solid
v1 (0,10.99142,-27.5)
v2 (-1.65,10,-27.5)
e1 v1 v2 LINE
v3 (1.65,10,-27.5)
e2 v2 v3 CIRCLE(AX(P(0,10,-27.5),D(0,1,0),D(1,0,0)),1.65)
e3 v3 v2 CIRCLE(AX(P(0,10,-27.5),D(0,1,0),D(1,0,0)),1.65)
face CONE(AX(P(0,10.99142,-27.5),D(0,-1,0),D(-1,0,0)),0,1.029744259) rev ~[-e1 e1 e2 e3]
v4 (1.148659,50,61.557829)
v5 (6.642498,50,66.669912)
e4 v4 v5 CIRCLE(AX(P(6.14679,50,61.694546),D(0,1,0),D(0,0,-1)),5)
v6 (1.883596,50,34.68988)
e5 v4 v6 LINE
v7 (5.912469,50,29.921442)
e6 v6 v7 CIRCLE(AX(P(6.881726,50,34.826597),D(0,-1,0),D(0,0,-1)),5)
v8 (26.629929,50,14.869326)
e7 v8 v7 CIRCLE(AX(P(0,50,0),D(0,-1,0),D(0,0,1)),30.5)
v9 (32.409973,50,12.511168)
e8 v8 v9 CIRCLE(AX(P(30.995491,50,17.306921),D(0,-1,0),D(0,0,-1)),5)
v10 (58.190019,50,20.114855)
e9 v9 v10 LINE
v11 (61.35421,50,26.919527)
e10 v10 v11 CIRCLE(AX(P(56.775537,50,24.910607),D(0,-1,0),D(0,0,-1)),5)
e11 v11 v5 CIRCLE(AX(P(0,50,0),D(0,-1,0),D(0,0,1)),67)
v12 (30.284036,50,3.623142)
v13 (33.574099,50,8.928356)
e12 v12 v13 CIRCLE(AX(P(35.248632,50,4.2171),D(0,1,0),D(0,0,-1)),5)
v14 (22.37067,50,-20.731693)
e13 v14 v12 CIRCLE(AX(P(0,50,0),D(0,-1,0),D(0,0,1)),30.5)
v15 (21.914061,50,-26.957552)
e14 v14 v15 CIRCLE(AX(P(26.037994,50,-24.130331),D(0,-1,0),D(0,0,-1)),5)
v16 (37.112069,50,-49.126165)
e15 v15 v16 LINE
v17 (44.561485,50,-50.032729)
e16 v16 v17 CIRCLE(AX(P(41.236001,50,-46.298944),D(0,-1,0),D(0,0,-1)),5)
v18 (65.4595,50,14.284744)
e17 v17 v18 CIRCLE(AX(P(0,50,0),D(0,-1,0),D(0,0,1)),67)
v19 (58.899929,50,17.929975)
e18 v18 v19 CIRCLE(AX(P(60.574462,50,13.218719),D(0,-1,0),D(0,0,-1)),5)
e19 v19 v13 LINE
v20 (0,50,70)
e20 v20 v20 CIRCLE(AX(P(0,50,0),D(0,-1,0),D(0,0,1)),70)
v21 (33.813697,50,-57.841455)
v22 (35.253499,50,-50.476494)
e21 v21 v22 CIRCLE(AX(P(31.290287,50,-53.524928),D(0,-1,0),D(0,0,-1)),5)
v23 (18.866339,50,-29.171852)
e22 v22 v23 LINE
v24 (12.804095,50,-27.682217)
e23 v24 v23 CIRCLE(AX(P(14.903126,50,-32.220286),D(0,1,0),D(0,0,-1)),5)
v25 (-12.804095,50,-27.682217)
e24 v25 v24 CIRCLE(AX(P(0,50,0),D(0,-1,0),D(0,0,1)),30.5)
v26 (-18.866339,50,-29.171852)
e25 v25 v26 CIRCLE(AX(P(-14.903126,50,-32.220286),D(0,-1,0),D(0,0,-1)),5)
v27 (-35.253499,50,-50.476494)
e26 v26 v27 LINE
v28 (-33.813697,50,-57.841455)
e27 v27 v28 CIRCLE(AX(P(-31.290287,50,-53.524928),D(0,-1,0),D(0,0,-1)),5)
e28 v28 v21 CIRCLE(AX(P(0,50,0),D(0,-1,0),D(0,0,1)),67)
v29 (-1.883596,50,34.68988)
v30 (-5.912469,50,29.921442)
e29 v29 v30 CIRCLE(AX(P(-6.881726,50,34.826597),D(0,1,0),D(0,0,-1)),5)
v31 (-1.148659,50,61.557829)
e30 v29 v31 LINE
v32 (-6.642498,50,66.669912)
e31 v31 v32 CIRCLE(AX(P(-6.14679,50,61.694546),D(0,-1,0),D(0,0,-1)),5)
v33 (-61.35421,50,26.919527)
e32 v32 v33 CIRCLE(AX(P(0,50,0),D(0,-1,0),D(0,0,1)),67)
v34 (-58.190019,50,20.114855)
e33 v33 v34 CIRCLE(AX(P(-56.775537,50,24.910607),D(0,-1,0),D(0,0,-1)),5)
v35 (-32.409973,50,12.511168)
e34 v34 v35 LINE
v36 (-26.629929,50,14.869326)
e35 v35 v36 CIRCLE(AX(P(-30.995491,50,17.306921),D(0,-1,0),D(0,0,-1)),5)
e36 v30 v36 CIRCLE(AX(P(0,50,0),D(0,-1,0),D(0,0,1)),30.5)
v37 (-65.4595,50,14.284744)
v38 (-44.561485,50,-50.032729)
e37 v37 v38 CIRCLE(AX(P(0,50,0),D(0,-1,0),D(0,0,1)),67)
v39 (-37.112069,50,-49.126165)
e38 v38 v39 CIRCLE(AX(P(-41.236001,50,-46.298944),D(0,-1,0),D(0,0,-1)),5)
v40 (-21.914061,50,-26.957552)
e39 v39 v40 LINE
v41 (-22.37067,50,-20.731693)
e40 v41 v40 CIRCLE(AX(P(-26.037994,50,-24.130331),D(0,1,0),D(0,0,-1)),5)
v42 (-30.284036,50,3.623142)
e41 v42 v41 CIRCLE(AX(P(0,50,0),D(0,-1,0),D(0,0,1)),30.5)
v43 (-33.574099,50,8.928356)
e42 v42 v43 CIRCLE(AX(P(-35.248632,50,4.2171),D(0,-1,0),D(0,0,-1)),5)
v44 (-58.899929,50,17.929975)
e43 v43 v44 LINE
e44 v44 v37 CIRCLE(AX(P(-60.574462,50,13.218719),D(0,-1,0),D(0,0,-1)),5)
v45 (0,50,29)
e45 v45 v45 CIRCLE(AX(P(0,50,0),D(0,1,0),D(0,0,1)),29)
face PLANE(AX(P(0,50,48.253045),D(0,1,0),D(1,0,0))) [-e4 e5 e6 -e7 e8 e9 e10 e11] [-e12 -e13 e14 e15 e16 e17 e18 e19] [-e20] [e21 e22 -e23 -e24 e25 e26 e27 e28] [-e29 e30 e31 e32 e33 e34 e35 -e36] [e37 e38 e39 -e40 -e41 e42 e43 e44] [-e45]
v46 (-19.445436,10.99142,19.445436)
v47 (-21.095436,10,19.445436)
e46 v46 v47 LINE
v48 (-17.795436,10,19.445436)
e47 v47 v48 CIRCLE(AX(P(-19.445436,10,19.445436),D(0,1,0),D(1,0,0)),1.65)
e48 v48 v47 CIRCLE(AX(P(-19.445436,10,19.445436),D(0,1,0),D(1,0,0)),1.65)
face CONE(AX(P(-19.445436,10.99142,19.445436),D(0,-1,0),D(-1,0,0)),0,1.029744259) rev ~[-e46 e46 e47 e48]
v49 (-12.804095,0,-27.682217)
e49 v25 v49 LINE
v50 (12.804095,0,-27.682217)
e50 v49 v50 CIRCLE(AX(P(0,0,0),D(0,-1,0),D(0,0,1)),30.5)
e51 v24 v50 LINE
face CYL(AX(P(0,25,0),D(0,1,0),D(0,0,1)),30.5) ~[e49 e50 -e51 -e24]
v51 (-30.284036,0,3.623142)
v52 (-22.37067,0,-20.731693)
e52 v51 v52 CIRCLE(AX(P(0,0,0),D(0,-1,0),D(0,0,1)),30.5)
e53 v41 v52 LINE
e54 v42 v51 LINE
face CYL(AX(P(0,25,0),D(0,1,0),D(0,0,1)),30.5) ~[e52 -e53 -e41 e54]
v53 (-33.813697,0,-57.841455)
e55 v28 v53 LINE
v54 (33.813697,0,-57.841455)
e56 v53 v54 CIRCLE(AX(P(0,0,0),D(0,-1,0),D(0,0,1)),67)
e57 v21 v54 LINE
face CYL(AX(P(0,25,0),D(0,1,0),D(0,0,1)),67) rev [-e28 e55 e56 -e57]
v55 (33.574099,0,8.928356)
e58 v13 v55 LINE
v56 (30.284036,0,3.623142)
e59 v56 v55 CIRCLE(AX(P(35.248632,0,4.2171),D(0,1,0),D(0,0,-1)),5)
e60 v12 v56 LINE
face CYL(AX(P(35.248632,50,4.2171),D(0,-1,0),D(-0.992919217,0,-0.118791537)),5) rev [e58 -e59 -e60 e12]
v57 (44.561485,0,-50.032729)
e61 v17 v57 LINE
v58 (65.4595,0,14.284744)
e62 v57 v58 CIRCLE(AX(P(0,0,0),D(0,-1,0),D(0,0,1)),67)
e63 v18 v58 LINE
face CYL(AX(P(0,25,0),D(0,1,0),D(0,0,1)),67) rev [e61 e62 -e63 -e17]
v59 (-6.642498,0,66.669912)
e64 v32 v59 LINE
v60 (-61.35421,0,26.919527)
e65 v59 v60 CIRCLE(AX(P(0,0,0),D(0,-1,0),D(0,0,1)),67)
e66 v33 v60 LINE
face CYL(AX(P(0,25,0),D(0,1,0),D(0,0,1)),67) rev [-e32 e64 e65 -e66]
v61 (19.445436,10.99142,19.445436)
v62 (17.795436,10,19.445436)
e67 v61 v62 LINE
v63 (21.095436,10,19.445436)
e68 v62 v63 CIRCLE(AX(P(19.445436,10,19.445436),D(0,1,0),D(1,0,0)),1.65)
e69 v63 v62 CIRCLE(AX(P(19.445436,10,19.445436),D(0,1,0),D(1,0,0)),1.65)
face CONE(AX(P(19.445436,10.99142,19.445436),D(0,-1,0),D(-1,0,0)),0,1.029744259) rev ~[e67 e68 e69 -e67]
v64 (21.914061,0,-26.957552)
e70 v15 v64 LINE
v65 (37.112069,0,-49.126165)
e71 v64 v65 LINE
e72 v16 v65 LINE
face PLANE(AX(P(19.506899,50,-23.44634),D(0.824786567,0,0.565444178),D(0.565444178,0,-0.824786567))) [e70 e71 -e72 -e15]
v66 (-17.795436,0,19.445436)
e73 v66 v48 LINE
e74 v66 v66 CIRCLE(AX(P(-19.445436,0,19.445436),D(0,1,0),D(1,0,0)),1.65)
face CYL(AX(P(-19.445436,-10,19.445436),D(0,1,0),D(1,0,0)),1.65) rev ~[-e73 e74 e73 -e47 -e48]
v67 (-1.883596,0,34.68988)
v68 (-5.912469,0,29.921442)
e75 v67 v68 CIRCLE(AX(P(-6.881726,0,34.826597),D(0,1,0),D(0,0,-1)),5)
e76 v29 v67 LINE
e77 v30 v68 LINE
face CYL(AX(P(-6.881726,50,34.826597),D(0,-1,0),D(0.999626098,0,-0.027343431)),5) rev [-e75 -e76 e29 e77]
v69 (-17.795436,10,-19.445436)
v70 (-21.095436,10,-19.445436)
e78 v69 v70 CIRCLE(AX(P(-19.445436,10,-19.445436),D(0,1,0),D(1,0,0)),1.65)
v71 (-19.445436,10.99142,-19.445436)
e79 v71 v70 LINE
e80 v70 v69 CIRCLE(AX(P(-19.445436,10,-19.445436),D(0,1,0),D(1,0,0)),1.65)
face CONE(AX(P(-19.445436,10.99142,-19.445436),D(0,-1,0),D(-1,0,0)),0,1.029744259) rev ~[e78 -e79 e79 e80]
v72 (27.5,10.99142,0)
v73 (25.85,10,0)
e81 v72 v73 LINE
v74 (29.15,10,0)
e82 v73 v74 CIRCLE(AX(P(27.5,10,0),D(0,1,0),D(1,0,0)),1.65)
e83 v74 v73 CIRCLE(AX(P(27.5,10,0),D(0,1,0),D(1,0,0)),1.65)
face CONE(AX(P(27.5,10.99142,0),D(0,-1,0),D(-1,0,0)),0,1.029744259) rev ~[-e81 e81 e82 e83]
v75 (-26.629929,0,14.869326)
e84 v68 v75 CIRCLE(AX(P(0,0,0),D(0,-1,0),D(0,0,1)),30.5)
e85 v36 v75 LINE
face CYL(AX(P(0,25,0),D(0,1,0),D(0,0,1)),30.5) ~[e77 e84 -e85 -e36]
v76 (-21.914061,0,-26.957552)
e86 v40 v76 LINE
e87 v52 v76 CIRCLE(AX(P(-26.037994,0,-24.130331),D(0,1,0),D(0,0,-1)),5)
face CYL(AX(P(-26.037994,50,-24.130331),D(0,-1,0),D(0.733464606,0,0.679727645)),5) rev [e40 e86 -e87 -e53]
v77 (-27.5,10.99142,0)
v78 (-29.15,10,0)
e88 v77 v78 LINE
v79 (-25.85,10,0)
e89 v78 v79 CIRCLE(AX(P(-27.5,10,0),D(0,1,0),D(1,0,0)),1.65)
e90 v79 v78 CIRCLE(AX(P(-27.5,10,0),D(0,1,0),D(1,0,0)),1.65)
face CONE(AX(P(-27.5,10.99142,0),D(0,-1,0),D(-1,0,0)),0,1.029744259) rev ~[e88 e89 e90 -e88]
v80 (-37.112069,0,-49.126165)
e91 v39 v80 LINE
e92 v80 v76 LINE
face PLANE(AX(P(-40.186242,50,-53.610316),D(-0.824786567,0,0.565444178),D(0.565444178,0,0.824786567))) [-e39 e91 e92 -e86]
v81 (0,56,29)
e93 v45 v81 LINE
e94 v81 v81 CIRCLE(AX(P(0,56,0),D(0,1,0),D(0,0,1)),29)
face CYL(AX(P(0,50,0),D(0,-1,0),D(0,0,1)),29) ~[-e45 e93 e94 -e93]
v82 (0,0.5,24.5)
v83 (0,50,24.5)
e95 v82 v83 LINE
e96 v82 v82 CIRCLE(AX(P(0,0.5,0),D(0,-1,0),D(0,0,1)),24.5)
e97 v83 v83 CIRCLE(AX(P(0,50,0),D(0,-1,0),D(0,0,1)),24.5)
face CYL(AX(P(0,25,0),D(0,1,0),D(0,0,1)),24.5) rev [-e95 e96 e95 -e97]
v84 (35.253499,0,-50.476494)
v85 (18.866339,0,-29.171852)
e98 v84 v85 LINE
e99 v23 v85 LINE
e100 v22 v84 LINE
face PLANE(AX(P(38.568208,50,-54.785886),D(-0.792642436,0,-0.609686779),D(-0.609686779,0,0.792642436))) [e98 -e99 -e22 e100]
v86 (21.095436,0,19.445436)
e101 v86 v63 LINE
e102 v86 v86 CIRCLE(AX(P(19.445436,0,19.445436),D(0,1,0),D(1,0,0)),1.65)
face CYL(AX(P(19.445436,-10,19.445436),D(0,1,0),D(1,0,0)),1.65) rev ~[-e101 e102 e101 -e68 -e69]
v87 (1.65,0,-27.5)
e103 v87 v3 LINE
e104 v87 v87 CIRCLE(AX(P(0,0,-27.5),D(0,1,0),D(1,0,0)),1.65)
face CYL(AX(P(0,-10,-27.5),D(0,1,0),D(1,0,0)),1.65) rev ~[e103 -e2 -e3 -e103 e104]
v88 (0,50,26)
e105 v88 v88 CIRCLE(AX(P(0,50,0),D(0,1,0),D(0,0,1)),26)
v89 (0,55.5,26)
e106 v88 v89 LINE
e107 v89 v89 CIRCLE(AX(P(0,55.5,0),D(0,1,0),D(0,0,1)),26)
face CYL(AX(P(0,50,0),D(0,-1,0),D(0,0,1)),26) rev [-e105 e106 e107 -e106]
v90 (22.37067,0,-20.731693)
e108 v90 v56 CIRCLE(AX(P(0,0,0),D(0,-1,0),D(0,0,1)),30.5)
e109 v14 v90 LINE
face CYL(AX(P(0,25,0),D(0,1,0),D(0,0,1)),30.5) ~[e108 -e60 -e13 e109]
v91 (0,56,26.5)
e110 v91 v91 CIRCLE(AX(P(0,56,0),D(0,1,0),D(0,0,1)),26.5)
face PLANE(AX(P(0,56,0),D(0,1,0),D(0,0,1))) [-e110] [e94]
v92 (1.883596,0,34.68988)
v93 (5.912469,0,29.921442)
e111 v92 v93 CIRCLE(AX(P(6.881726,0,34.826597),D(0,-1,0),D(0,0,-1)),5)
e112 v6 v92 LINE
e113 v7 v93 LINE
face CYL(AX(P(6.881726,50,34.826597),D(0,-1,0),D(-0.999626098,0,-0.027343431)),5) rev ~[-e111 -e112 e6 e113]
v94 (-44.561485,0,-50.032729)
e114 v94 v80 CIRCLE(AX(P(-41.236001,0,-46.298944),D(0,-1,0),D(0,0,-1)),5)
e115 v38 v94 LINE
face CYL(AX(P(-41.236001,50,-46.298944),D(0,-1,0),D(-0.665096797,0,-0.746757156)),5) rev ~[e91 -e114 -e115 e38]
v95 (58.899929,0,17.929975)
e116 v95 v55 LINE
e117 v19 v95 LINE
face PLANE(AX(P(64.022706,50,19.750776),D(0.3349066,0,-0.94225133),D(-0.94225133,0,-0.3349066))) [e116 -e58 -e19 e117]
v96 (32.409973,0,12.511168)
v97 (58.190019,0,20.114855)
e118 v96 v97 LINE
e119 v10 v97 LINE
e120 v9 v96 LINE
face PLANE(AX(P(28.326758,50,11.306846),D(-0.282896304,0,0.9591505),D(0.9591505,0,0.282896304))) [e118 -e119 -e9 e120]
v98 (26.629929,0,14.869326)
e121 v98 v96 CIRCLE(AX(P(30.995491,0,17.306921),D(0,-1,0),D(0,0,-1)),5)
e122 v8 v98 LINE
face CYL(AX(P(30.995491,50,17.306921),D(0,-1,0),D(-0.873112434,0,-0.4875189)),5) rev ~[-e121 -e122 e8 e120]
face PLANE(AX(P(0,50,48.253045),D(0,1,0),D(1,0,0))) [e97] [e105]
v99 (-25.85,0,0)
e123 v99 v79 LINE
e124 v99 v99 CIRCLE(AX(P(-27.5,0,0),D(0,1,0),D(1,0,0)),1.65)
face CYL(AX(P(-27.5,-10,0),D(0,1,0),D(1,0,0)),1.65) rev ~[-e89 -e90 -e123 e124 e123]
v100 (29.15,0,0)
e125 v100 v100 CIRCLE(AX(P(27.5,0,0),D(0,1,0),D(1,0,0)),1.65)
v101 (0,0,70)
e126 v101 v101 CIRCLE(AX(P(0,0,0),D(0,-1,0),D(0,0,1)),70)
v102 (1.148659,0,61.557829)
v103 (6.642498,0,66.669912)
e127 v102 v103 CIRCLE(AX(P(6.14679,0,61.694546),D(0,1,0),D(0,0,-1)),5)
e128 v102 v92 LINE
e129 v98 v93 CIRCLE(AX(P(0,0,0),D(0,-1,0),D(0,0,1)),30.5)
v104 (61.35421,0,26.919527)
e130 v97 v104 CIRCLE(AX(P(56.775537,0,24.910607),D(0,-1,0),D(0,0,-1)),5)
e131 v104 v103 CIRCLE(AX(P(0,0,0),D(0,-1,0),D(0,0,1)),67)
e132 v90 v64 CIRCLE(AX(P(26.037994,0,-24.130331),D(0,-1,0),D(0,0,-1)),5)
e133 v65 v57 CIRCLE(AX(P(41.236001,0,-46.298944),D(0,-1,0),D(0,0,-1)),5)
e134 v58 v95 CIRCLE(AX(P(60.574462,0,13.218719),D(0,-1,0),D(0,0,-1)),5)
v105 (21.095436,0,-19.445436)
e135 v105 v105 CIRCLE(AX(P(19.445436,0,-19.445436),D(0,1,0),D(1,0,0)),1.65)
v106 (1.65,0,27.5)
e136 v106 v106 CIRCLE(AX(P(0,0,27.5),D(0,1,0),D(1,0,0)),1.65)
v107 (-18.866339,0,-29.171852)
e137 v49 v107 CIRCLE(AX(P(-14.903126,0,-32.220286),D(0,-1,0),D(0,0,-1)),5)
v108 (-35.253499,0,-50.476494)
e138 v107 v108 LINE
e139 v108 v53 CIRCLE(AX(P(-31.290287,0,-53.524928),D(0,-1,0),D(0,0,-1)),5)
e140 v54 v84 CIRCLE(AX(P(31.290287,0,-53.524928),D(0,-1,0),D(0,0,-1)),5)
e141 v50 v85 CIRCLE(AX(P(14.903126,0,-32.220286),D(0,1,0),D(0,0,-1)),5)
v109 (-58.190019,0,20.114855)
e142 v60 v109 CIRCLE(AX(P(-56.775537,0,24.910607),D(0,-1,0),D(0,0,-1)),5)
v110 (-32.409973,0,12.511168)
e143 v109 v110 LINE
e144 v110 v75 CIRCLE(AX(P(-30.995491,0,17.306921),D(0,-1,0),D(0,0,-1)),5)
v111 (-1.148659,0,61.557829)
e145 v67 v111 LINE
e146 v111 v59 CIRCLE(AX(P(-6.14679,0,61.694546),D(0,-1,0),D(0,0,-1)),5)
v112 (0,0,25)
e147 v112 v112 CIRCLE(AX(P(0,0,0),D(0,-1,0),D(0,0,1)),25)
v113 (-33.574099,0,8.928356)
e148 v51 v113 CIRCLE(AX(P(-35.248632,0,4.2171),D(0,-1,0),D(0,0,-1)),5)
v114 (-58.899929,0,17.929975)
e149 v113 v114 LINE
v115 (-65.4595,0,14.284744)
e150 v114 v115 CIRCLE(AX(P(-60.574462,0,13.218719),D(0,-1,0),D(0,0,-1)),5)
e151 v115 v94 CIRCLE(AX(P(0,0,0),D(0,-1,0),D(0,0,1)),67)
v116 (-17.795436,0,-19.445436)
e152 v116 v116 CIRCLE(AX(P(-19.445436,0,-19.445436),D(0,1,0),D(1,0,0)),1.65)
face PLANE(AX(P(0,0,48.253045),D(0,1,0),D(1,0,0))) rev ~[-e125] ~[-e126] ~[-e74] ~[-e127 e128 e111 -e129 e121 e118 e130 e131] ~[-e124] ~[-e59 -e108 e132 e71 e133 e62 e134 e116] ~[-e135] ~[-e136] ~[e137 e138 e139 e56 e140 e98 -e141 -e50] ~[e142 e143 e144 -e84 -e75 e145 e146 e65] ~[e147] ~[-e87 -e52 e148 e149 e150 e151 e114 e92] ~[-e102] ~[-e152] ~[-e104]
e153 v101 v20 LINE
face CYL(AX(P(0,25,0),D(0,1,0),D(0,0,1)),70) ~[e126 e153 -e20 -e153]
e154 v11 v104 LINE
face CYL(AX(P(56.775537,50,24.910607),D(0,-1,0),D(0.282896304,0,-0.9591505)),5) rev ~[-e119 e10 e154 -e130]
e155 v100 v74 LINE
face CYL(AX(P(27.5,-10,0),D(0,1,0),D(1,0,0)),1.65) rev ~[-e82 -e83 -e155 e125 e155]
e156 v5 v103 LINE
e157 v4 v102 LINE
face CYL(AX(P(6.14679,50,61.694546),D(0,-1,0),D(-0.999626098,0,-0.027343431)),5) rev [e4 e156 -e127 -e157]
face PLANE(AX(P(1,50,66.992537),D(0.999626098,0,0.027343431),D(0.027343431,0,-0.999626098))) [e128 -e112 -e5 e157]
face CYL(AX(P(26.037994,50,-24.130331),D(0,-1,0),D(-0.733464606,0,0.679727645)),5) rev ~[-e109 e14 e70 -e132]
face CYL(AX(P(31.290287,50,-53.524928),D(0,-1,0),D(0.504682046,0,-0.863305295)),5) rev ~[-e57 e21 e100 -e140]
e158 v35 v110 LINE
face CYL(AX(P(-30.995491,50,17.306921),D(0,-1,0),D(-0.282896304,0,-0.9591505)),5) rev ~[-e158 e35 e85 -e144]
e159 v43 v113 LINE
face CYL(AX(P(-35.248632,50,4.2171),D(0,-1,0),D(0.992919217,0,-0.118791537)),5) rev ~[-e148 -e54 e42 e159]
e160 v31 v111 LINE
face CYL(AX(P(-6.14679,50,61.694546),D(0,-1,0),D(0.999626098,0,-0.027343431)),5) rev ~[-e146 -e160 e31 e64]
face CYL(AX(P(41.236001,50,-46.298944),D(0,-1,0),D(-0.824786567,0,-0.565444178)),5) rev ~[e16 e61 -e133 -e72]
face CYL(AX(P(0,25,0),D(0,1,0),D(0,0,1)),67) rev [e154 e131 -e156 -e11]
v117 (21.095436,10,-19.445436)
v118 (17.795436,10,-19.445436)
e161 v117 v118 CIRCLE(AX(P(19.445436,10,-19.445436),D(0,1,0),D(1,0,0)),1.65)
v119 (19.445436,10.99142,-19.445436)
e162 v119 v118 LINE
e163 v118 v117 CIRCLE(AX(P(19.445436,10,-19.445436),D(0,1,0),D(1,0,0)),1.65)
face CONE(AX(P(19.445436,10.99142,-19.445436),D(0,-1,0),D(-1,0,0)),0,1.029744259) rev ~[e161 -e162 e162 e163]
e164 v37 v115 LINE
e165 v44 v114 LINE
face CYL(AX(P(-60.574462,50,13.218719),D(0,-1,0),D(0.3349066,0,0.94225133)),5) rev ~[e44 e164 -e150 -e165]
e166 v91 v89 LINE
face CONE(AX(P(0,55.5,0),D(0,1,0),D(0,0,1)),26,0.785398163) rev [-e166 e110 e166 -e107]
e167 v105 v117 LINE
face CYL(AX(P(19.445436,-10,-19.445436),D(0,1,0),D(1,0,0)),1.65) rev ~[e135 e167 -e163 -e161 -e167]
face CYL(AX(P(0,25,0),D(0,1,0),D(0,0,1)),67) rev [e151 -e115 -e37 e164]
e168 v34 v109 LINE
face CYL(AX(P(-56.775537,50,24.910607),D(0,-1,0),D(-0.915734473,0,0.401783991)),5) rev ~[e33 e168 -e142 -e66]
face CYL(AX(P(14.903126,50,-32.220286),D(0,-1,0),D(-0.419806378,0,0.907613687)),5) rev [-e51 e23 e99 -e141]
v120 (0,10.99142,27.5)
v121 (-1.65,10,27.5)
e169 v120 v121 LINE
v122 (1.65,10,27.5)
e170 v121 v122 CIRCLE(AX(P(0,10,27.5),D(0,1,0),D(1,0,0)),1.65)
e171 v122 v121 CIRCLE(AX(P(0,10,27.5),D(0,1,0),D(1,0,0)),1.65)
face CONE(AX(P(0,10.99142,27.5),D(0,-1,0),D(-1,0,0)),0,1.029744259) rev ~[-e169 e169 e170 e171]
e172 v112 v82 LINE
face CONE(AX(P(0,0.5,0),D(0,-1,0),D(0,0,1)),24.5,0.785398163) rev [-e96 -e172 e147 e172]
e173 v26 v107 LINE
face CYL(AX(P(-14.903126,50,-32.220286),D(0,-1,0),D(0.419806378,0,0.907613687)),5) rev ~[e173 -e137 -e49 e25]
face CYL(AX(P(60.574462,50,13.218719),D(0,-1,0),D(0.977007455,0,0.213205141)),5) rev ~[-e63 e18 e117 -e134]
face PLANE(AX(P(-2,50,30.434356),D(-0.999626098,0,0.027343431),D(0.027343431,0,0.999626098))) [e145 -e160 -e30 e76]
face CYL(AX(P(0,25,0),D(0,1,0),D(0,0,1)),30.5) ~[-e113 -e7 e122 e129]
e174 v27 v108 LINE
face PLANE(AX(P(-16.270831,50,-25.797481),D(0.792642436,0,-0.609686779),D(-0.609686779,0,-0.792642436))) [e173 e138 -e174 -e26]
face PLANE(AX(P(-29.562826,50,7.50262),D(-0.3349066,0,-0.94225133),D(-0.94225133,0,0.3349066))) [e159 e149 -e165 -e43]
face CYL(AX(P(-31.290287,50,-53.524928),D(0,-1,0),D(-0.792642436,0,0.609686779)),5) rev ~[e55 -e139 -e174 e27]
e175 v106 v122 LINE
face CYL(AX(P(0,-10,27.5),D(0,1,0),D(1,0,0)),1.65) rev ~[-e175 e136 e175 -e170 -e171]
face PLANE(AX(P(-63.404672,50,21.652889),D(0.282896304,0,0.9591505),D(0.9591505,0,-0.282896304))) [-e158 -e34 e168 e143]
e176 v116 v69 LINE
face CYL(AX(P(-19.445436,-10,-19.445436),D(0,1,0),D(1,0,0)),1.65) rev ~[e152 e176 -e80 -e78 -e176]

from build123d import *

# Parameters (mm, degrees)
SKETCH_1_W             = 6
SKETCH_1_H             = 50
SKETCH_1_W_2           = 3
HOLE_WIZARD_M4_1_D     = 3.3
HOLE_WIZARD_M4_1_DEPTH = 10
HOLE_WIZARD_M4_1_TIP   = 0.991420021
EXTRUDE_1_DEPTH        = 50
SKETCH_7_R             = 29
SKETCH_7_R_2           = 26
EXTRUDE_3_DEPTH        = 6
CHAMFER_1_SIZE         = 0.5
FILLET_1_R             = 5


with BuildPart() as part:
    # 草图1 → 旋转1 (revolve)
    with BuildSketch(Plane.XY, mode=Mode.PRIVATE) as revolve_1_sk:
        with Locations((27.5, 25)):
            Rectangle(SKETCH_1_W, SKETCH_1_H)
        with Locations((68.5, 25)):
            Rectangle(SKETCH_1_W_2, SKETCH_1_H)
    revolve(revolve_1_sk.sketch.rotate(Axis((0, 82.659451531, 0), (0, -1, 0)), 90), axis=Axis((0, 82.659451531, 0), (0, -1, 0)))

    # M4 螺纹孔1
    with Locations(Plane(origin=(0, 0, 0), x_dir=(-1, 0, 0), z_dir=(0, -1, 0))):
        with Locations((0, 27.5), (19.445436483, -19.445436483), (27.5, 0), (19.445436483, 19.445436483), (0, -27.5), (-19.445436483, -19.445436483), (-27.5, 0), (-19.445436483, 19.445436483)):
            Hole(HOLE_WIZARD_M4_1_D / 2, depth=HOLE_WIZARD_M4_1_DEPTH)
            with Locations((0, 0, -(HOLE_WIZARD_M4_1_DEPTH + HOLE_WIZARD_M4_1_TIP / 2))):  # 118° drill point
                Cone(0, HOLE_WIZARD_M4_1_D / 2, HOLE_WIZARD_M4_1_TIP, mode=Mode.SUBTRACT)

    # 草图5 → 凸台-拉伸1 (add)
    with BuildSketch(Plane(origin=(0, 50, 0), x_dir=(1, 0, 0), z_dir=(0, 1, 0))):
        with BuildLine():
            Line((1, -66.992536898), (2, -30.434355587))
            ThreePointArc((2, -30.434355587), (0, -30.5), (-2, -30.434355587))
            Line((-2, -30.434355587), (-1, -66.992536898))
            ThreePointArc((-1, -66.992536898), (0, -67), (1, -66.992536898))
        make_face()
        with BuildLine():
            ThreePointArc((-28.326758212, -11.306846122), (-29.007223747, -9.425018328), (-29.562826189, -7.502620057))
            Line((-29.562826189, -7.502620057), (-64.022705754, -19.750775881))
            ThreePointArc((-64.022705754, -19.750775881), (-63.720786592, -20.704138623), (-63.404671765, -21.652888914))
            Line((-63.404671765, -21.652888914), (-28.326758212, -11.306846122))
        make_face()
        with BuildLine():
            ThreePointArc((-19.506899366, 23.446340378), (-17.927450195, 24.675018328), (-16.270831388, 25.797481387))
            Line((-16.270831388, 25.797481387), (-38.568208208, 54.785886099))
            ThreePointArc((-38.568208208, 54.785886099), (-39.381611904, 54.204138623), (-40.186242197, 53.610315594))
            Line((-40.186242197, 53.610315594), (-19.506899366, 23.446340378))
        make_face()
        with BuildLine():
            ThreePointArc((16.270831388, 25.797481387), (17.927450195, 24.675018328), (19.506899366, 23.446340378))
            Line((19.506899366, 23.446340378), (40.186242197, 53.610315594))
            ThreePointArc((40.186242197, 53.610315594), (39.381611904, 54.204138623), (38.568208208, 54.785886099))
            Line((38.568208208, 54.785886099), (16.270831388, 25.797481387))
        make_face()
        with BuildLine():
            ThreePointArc((29.562826189, -7.502620057), (29.007223747, -9.425018328), (28.326758212, -11.306846122))
            Line((28.326758212, -11.306846122), (63.404671765, -21.652888914))
            ThreePointArc((63.404671765, -21.652888914), (63.720786592, -20.704138623), (64.022705754, -19.750775881))
            Line((64.022705754, -19.750775881), (29.562826189, -7.502620057))
        make_face()
    extrude(amount=-EXTRUDE_1_DEPTH)

    # 草图7 → 凸台-拉伸3 (add)
    with BuildSketch(Plane(origin=(0, 50, 0), x_dir=(1, 0, 0), z_dir=(0, 1, 0))):
        with Locations(Location((0, 0, 0), (0, 0, 270))):
            Circle(SKETCH_7_R)
        with Locations(Location((0, 0, 0), (0, 0, 270))):
            Circle(SKETCH_7_R_2, mode=Mode.SUBTRACT)
    extrude(amount=EXTRUDE_3_DEPTH)

    # 倒角1
    chamfer_1_edges = [part.edges().sort_by_distance(p)[0] for p in [
        (0, 56, -26),
        (0, 0, -24.5),
    ]]
    chamfer(chamfer_1_edges, length=CHAMFER_1_SIZE)

    # 圆角1
    fillet_1_edges = [part.edges().sort_by_distance(p)[0] for p in [
        (-2, 25, 30.434355587),
        (2, 25, 30.434355587),
        (1, 25, 66.992536898),
        (-1, 25, 66.992536898),
        (-29.562826189, 25, 7.502620057),
        (-28.326758212, 25, 11.306846122),
        (-63.404671765, 25, 21.652888914),
        (-64.022705754, 25, 19.750775881),
        (-16.270831388, 25, -25.797481387),
        (-19.506899366, 25, -23.446340378),
        (-40.186242197, 25, -53.610315594),
        (-38.568208208, 25, -54.785886099),
        (19.506899366, 25, -23.446340378),
        (16.270831388, 25, -25.797481387),
        (38.568208208, 25, -54.785886099),
        (40.186242197, 25, -53.610315594),
        (28.326758212, 25, 11.306846122),
        (29.562826189, 25, 7.502620057),
        (64.022705754, 25, 19.750775881),
        (63.404671765, 25, 21.652888914),
    ]]
    fillet(fillet_1_edges, radius=FILLET_1_R)


solid = part.part
